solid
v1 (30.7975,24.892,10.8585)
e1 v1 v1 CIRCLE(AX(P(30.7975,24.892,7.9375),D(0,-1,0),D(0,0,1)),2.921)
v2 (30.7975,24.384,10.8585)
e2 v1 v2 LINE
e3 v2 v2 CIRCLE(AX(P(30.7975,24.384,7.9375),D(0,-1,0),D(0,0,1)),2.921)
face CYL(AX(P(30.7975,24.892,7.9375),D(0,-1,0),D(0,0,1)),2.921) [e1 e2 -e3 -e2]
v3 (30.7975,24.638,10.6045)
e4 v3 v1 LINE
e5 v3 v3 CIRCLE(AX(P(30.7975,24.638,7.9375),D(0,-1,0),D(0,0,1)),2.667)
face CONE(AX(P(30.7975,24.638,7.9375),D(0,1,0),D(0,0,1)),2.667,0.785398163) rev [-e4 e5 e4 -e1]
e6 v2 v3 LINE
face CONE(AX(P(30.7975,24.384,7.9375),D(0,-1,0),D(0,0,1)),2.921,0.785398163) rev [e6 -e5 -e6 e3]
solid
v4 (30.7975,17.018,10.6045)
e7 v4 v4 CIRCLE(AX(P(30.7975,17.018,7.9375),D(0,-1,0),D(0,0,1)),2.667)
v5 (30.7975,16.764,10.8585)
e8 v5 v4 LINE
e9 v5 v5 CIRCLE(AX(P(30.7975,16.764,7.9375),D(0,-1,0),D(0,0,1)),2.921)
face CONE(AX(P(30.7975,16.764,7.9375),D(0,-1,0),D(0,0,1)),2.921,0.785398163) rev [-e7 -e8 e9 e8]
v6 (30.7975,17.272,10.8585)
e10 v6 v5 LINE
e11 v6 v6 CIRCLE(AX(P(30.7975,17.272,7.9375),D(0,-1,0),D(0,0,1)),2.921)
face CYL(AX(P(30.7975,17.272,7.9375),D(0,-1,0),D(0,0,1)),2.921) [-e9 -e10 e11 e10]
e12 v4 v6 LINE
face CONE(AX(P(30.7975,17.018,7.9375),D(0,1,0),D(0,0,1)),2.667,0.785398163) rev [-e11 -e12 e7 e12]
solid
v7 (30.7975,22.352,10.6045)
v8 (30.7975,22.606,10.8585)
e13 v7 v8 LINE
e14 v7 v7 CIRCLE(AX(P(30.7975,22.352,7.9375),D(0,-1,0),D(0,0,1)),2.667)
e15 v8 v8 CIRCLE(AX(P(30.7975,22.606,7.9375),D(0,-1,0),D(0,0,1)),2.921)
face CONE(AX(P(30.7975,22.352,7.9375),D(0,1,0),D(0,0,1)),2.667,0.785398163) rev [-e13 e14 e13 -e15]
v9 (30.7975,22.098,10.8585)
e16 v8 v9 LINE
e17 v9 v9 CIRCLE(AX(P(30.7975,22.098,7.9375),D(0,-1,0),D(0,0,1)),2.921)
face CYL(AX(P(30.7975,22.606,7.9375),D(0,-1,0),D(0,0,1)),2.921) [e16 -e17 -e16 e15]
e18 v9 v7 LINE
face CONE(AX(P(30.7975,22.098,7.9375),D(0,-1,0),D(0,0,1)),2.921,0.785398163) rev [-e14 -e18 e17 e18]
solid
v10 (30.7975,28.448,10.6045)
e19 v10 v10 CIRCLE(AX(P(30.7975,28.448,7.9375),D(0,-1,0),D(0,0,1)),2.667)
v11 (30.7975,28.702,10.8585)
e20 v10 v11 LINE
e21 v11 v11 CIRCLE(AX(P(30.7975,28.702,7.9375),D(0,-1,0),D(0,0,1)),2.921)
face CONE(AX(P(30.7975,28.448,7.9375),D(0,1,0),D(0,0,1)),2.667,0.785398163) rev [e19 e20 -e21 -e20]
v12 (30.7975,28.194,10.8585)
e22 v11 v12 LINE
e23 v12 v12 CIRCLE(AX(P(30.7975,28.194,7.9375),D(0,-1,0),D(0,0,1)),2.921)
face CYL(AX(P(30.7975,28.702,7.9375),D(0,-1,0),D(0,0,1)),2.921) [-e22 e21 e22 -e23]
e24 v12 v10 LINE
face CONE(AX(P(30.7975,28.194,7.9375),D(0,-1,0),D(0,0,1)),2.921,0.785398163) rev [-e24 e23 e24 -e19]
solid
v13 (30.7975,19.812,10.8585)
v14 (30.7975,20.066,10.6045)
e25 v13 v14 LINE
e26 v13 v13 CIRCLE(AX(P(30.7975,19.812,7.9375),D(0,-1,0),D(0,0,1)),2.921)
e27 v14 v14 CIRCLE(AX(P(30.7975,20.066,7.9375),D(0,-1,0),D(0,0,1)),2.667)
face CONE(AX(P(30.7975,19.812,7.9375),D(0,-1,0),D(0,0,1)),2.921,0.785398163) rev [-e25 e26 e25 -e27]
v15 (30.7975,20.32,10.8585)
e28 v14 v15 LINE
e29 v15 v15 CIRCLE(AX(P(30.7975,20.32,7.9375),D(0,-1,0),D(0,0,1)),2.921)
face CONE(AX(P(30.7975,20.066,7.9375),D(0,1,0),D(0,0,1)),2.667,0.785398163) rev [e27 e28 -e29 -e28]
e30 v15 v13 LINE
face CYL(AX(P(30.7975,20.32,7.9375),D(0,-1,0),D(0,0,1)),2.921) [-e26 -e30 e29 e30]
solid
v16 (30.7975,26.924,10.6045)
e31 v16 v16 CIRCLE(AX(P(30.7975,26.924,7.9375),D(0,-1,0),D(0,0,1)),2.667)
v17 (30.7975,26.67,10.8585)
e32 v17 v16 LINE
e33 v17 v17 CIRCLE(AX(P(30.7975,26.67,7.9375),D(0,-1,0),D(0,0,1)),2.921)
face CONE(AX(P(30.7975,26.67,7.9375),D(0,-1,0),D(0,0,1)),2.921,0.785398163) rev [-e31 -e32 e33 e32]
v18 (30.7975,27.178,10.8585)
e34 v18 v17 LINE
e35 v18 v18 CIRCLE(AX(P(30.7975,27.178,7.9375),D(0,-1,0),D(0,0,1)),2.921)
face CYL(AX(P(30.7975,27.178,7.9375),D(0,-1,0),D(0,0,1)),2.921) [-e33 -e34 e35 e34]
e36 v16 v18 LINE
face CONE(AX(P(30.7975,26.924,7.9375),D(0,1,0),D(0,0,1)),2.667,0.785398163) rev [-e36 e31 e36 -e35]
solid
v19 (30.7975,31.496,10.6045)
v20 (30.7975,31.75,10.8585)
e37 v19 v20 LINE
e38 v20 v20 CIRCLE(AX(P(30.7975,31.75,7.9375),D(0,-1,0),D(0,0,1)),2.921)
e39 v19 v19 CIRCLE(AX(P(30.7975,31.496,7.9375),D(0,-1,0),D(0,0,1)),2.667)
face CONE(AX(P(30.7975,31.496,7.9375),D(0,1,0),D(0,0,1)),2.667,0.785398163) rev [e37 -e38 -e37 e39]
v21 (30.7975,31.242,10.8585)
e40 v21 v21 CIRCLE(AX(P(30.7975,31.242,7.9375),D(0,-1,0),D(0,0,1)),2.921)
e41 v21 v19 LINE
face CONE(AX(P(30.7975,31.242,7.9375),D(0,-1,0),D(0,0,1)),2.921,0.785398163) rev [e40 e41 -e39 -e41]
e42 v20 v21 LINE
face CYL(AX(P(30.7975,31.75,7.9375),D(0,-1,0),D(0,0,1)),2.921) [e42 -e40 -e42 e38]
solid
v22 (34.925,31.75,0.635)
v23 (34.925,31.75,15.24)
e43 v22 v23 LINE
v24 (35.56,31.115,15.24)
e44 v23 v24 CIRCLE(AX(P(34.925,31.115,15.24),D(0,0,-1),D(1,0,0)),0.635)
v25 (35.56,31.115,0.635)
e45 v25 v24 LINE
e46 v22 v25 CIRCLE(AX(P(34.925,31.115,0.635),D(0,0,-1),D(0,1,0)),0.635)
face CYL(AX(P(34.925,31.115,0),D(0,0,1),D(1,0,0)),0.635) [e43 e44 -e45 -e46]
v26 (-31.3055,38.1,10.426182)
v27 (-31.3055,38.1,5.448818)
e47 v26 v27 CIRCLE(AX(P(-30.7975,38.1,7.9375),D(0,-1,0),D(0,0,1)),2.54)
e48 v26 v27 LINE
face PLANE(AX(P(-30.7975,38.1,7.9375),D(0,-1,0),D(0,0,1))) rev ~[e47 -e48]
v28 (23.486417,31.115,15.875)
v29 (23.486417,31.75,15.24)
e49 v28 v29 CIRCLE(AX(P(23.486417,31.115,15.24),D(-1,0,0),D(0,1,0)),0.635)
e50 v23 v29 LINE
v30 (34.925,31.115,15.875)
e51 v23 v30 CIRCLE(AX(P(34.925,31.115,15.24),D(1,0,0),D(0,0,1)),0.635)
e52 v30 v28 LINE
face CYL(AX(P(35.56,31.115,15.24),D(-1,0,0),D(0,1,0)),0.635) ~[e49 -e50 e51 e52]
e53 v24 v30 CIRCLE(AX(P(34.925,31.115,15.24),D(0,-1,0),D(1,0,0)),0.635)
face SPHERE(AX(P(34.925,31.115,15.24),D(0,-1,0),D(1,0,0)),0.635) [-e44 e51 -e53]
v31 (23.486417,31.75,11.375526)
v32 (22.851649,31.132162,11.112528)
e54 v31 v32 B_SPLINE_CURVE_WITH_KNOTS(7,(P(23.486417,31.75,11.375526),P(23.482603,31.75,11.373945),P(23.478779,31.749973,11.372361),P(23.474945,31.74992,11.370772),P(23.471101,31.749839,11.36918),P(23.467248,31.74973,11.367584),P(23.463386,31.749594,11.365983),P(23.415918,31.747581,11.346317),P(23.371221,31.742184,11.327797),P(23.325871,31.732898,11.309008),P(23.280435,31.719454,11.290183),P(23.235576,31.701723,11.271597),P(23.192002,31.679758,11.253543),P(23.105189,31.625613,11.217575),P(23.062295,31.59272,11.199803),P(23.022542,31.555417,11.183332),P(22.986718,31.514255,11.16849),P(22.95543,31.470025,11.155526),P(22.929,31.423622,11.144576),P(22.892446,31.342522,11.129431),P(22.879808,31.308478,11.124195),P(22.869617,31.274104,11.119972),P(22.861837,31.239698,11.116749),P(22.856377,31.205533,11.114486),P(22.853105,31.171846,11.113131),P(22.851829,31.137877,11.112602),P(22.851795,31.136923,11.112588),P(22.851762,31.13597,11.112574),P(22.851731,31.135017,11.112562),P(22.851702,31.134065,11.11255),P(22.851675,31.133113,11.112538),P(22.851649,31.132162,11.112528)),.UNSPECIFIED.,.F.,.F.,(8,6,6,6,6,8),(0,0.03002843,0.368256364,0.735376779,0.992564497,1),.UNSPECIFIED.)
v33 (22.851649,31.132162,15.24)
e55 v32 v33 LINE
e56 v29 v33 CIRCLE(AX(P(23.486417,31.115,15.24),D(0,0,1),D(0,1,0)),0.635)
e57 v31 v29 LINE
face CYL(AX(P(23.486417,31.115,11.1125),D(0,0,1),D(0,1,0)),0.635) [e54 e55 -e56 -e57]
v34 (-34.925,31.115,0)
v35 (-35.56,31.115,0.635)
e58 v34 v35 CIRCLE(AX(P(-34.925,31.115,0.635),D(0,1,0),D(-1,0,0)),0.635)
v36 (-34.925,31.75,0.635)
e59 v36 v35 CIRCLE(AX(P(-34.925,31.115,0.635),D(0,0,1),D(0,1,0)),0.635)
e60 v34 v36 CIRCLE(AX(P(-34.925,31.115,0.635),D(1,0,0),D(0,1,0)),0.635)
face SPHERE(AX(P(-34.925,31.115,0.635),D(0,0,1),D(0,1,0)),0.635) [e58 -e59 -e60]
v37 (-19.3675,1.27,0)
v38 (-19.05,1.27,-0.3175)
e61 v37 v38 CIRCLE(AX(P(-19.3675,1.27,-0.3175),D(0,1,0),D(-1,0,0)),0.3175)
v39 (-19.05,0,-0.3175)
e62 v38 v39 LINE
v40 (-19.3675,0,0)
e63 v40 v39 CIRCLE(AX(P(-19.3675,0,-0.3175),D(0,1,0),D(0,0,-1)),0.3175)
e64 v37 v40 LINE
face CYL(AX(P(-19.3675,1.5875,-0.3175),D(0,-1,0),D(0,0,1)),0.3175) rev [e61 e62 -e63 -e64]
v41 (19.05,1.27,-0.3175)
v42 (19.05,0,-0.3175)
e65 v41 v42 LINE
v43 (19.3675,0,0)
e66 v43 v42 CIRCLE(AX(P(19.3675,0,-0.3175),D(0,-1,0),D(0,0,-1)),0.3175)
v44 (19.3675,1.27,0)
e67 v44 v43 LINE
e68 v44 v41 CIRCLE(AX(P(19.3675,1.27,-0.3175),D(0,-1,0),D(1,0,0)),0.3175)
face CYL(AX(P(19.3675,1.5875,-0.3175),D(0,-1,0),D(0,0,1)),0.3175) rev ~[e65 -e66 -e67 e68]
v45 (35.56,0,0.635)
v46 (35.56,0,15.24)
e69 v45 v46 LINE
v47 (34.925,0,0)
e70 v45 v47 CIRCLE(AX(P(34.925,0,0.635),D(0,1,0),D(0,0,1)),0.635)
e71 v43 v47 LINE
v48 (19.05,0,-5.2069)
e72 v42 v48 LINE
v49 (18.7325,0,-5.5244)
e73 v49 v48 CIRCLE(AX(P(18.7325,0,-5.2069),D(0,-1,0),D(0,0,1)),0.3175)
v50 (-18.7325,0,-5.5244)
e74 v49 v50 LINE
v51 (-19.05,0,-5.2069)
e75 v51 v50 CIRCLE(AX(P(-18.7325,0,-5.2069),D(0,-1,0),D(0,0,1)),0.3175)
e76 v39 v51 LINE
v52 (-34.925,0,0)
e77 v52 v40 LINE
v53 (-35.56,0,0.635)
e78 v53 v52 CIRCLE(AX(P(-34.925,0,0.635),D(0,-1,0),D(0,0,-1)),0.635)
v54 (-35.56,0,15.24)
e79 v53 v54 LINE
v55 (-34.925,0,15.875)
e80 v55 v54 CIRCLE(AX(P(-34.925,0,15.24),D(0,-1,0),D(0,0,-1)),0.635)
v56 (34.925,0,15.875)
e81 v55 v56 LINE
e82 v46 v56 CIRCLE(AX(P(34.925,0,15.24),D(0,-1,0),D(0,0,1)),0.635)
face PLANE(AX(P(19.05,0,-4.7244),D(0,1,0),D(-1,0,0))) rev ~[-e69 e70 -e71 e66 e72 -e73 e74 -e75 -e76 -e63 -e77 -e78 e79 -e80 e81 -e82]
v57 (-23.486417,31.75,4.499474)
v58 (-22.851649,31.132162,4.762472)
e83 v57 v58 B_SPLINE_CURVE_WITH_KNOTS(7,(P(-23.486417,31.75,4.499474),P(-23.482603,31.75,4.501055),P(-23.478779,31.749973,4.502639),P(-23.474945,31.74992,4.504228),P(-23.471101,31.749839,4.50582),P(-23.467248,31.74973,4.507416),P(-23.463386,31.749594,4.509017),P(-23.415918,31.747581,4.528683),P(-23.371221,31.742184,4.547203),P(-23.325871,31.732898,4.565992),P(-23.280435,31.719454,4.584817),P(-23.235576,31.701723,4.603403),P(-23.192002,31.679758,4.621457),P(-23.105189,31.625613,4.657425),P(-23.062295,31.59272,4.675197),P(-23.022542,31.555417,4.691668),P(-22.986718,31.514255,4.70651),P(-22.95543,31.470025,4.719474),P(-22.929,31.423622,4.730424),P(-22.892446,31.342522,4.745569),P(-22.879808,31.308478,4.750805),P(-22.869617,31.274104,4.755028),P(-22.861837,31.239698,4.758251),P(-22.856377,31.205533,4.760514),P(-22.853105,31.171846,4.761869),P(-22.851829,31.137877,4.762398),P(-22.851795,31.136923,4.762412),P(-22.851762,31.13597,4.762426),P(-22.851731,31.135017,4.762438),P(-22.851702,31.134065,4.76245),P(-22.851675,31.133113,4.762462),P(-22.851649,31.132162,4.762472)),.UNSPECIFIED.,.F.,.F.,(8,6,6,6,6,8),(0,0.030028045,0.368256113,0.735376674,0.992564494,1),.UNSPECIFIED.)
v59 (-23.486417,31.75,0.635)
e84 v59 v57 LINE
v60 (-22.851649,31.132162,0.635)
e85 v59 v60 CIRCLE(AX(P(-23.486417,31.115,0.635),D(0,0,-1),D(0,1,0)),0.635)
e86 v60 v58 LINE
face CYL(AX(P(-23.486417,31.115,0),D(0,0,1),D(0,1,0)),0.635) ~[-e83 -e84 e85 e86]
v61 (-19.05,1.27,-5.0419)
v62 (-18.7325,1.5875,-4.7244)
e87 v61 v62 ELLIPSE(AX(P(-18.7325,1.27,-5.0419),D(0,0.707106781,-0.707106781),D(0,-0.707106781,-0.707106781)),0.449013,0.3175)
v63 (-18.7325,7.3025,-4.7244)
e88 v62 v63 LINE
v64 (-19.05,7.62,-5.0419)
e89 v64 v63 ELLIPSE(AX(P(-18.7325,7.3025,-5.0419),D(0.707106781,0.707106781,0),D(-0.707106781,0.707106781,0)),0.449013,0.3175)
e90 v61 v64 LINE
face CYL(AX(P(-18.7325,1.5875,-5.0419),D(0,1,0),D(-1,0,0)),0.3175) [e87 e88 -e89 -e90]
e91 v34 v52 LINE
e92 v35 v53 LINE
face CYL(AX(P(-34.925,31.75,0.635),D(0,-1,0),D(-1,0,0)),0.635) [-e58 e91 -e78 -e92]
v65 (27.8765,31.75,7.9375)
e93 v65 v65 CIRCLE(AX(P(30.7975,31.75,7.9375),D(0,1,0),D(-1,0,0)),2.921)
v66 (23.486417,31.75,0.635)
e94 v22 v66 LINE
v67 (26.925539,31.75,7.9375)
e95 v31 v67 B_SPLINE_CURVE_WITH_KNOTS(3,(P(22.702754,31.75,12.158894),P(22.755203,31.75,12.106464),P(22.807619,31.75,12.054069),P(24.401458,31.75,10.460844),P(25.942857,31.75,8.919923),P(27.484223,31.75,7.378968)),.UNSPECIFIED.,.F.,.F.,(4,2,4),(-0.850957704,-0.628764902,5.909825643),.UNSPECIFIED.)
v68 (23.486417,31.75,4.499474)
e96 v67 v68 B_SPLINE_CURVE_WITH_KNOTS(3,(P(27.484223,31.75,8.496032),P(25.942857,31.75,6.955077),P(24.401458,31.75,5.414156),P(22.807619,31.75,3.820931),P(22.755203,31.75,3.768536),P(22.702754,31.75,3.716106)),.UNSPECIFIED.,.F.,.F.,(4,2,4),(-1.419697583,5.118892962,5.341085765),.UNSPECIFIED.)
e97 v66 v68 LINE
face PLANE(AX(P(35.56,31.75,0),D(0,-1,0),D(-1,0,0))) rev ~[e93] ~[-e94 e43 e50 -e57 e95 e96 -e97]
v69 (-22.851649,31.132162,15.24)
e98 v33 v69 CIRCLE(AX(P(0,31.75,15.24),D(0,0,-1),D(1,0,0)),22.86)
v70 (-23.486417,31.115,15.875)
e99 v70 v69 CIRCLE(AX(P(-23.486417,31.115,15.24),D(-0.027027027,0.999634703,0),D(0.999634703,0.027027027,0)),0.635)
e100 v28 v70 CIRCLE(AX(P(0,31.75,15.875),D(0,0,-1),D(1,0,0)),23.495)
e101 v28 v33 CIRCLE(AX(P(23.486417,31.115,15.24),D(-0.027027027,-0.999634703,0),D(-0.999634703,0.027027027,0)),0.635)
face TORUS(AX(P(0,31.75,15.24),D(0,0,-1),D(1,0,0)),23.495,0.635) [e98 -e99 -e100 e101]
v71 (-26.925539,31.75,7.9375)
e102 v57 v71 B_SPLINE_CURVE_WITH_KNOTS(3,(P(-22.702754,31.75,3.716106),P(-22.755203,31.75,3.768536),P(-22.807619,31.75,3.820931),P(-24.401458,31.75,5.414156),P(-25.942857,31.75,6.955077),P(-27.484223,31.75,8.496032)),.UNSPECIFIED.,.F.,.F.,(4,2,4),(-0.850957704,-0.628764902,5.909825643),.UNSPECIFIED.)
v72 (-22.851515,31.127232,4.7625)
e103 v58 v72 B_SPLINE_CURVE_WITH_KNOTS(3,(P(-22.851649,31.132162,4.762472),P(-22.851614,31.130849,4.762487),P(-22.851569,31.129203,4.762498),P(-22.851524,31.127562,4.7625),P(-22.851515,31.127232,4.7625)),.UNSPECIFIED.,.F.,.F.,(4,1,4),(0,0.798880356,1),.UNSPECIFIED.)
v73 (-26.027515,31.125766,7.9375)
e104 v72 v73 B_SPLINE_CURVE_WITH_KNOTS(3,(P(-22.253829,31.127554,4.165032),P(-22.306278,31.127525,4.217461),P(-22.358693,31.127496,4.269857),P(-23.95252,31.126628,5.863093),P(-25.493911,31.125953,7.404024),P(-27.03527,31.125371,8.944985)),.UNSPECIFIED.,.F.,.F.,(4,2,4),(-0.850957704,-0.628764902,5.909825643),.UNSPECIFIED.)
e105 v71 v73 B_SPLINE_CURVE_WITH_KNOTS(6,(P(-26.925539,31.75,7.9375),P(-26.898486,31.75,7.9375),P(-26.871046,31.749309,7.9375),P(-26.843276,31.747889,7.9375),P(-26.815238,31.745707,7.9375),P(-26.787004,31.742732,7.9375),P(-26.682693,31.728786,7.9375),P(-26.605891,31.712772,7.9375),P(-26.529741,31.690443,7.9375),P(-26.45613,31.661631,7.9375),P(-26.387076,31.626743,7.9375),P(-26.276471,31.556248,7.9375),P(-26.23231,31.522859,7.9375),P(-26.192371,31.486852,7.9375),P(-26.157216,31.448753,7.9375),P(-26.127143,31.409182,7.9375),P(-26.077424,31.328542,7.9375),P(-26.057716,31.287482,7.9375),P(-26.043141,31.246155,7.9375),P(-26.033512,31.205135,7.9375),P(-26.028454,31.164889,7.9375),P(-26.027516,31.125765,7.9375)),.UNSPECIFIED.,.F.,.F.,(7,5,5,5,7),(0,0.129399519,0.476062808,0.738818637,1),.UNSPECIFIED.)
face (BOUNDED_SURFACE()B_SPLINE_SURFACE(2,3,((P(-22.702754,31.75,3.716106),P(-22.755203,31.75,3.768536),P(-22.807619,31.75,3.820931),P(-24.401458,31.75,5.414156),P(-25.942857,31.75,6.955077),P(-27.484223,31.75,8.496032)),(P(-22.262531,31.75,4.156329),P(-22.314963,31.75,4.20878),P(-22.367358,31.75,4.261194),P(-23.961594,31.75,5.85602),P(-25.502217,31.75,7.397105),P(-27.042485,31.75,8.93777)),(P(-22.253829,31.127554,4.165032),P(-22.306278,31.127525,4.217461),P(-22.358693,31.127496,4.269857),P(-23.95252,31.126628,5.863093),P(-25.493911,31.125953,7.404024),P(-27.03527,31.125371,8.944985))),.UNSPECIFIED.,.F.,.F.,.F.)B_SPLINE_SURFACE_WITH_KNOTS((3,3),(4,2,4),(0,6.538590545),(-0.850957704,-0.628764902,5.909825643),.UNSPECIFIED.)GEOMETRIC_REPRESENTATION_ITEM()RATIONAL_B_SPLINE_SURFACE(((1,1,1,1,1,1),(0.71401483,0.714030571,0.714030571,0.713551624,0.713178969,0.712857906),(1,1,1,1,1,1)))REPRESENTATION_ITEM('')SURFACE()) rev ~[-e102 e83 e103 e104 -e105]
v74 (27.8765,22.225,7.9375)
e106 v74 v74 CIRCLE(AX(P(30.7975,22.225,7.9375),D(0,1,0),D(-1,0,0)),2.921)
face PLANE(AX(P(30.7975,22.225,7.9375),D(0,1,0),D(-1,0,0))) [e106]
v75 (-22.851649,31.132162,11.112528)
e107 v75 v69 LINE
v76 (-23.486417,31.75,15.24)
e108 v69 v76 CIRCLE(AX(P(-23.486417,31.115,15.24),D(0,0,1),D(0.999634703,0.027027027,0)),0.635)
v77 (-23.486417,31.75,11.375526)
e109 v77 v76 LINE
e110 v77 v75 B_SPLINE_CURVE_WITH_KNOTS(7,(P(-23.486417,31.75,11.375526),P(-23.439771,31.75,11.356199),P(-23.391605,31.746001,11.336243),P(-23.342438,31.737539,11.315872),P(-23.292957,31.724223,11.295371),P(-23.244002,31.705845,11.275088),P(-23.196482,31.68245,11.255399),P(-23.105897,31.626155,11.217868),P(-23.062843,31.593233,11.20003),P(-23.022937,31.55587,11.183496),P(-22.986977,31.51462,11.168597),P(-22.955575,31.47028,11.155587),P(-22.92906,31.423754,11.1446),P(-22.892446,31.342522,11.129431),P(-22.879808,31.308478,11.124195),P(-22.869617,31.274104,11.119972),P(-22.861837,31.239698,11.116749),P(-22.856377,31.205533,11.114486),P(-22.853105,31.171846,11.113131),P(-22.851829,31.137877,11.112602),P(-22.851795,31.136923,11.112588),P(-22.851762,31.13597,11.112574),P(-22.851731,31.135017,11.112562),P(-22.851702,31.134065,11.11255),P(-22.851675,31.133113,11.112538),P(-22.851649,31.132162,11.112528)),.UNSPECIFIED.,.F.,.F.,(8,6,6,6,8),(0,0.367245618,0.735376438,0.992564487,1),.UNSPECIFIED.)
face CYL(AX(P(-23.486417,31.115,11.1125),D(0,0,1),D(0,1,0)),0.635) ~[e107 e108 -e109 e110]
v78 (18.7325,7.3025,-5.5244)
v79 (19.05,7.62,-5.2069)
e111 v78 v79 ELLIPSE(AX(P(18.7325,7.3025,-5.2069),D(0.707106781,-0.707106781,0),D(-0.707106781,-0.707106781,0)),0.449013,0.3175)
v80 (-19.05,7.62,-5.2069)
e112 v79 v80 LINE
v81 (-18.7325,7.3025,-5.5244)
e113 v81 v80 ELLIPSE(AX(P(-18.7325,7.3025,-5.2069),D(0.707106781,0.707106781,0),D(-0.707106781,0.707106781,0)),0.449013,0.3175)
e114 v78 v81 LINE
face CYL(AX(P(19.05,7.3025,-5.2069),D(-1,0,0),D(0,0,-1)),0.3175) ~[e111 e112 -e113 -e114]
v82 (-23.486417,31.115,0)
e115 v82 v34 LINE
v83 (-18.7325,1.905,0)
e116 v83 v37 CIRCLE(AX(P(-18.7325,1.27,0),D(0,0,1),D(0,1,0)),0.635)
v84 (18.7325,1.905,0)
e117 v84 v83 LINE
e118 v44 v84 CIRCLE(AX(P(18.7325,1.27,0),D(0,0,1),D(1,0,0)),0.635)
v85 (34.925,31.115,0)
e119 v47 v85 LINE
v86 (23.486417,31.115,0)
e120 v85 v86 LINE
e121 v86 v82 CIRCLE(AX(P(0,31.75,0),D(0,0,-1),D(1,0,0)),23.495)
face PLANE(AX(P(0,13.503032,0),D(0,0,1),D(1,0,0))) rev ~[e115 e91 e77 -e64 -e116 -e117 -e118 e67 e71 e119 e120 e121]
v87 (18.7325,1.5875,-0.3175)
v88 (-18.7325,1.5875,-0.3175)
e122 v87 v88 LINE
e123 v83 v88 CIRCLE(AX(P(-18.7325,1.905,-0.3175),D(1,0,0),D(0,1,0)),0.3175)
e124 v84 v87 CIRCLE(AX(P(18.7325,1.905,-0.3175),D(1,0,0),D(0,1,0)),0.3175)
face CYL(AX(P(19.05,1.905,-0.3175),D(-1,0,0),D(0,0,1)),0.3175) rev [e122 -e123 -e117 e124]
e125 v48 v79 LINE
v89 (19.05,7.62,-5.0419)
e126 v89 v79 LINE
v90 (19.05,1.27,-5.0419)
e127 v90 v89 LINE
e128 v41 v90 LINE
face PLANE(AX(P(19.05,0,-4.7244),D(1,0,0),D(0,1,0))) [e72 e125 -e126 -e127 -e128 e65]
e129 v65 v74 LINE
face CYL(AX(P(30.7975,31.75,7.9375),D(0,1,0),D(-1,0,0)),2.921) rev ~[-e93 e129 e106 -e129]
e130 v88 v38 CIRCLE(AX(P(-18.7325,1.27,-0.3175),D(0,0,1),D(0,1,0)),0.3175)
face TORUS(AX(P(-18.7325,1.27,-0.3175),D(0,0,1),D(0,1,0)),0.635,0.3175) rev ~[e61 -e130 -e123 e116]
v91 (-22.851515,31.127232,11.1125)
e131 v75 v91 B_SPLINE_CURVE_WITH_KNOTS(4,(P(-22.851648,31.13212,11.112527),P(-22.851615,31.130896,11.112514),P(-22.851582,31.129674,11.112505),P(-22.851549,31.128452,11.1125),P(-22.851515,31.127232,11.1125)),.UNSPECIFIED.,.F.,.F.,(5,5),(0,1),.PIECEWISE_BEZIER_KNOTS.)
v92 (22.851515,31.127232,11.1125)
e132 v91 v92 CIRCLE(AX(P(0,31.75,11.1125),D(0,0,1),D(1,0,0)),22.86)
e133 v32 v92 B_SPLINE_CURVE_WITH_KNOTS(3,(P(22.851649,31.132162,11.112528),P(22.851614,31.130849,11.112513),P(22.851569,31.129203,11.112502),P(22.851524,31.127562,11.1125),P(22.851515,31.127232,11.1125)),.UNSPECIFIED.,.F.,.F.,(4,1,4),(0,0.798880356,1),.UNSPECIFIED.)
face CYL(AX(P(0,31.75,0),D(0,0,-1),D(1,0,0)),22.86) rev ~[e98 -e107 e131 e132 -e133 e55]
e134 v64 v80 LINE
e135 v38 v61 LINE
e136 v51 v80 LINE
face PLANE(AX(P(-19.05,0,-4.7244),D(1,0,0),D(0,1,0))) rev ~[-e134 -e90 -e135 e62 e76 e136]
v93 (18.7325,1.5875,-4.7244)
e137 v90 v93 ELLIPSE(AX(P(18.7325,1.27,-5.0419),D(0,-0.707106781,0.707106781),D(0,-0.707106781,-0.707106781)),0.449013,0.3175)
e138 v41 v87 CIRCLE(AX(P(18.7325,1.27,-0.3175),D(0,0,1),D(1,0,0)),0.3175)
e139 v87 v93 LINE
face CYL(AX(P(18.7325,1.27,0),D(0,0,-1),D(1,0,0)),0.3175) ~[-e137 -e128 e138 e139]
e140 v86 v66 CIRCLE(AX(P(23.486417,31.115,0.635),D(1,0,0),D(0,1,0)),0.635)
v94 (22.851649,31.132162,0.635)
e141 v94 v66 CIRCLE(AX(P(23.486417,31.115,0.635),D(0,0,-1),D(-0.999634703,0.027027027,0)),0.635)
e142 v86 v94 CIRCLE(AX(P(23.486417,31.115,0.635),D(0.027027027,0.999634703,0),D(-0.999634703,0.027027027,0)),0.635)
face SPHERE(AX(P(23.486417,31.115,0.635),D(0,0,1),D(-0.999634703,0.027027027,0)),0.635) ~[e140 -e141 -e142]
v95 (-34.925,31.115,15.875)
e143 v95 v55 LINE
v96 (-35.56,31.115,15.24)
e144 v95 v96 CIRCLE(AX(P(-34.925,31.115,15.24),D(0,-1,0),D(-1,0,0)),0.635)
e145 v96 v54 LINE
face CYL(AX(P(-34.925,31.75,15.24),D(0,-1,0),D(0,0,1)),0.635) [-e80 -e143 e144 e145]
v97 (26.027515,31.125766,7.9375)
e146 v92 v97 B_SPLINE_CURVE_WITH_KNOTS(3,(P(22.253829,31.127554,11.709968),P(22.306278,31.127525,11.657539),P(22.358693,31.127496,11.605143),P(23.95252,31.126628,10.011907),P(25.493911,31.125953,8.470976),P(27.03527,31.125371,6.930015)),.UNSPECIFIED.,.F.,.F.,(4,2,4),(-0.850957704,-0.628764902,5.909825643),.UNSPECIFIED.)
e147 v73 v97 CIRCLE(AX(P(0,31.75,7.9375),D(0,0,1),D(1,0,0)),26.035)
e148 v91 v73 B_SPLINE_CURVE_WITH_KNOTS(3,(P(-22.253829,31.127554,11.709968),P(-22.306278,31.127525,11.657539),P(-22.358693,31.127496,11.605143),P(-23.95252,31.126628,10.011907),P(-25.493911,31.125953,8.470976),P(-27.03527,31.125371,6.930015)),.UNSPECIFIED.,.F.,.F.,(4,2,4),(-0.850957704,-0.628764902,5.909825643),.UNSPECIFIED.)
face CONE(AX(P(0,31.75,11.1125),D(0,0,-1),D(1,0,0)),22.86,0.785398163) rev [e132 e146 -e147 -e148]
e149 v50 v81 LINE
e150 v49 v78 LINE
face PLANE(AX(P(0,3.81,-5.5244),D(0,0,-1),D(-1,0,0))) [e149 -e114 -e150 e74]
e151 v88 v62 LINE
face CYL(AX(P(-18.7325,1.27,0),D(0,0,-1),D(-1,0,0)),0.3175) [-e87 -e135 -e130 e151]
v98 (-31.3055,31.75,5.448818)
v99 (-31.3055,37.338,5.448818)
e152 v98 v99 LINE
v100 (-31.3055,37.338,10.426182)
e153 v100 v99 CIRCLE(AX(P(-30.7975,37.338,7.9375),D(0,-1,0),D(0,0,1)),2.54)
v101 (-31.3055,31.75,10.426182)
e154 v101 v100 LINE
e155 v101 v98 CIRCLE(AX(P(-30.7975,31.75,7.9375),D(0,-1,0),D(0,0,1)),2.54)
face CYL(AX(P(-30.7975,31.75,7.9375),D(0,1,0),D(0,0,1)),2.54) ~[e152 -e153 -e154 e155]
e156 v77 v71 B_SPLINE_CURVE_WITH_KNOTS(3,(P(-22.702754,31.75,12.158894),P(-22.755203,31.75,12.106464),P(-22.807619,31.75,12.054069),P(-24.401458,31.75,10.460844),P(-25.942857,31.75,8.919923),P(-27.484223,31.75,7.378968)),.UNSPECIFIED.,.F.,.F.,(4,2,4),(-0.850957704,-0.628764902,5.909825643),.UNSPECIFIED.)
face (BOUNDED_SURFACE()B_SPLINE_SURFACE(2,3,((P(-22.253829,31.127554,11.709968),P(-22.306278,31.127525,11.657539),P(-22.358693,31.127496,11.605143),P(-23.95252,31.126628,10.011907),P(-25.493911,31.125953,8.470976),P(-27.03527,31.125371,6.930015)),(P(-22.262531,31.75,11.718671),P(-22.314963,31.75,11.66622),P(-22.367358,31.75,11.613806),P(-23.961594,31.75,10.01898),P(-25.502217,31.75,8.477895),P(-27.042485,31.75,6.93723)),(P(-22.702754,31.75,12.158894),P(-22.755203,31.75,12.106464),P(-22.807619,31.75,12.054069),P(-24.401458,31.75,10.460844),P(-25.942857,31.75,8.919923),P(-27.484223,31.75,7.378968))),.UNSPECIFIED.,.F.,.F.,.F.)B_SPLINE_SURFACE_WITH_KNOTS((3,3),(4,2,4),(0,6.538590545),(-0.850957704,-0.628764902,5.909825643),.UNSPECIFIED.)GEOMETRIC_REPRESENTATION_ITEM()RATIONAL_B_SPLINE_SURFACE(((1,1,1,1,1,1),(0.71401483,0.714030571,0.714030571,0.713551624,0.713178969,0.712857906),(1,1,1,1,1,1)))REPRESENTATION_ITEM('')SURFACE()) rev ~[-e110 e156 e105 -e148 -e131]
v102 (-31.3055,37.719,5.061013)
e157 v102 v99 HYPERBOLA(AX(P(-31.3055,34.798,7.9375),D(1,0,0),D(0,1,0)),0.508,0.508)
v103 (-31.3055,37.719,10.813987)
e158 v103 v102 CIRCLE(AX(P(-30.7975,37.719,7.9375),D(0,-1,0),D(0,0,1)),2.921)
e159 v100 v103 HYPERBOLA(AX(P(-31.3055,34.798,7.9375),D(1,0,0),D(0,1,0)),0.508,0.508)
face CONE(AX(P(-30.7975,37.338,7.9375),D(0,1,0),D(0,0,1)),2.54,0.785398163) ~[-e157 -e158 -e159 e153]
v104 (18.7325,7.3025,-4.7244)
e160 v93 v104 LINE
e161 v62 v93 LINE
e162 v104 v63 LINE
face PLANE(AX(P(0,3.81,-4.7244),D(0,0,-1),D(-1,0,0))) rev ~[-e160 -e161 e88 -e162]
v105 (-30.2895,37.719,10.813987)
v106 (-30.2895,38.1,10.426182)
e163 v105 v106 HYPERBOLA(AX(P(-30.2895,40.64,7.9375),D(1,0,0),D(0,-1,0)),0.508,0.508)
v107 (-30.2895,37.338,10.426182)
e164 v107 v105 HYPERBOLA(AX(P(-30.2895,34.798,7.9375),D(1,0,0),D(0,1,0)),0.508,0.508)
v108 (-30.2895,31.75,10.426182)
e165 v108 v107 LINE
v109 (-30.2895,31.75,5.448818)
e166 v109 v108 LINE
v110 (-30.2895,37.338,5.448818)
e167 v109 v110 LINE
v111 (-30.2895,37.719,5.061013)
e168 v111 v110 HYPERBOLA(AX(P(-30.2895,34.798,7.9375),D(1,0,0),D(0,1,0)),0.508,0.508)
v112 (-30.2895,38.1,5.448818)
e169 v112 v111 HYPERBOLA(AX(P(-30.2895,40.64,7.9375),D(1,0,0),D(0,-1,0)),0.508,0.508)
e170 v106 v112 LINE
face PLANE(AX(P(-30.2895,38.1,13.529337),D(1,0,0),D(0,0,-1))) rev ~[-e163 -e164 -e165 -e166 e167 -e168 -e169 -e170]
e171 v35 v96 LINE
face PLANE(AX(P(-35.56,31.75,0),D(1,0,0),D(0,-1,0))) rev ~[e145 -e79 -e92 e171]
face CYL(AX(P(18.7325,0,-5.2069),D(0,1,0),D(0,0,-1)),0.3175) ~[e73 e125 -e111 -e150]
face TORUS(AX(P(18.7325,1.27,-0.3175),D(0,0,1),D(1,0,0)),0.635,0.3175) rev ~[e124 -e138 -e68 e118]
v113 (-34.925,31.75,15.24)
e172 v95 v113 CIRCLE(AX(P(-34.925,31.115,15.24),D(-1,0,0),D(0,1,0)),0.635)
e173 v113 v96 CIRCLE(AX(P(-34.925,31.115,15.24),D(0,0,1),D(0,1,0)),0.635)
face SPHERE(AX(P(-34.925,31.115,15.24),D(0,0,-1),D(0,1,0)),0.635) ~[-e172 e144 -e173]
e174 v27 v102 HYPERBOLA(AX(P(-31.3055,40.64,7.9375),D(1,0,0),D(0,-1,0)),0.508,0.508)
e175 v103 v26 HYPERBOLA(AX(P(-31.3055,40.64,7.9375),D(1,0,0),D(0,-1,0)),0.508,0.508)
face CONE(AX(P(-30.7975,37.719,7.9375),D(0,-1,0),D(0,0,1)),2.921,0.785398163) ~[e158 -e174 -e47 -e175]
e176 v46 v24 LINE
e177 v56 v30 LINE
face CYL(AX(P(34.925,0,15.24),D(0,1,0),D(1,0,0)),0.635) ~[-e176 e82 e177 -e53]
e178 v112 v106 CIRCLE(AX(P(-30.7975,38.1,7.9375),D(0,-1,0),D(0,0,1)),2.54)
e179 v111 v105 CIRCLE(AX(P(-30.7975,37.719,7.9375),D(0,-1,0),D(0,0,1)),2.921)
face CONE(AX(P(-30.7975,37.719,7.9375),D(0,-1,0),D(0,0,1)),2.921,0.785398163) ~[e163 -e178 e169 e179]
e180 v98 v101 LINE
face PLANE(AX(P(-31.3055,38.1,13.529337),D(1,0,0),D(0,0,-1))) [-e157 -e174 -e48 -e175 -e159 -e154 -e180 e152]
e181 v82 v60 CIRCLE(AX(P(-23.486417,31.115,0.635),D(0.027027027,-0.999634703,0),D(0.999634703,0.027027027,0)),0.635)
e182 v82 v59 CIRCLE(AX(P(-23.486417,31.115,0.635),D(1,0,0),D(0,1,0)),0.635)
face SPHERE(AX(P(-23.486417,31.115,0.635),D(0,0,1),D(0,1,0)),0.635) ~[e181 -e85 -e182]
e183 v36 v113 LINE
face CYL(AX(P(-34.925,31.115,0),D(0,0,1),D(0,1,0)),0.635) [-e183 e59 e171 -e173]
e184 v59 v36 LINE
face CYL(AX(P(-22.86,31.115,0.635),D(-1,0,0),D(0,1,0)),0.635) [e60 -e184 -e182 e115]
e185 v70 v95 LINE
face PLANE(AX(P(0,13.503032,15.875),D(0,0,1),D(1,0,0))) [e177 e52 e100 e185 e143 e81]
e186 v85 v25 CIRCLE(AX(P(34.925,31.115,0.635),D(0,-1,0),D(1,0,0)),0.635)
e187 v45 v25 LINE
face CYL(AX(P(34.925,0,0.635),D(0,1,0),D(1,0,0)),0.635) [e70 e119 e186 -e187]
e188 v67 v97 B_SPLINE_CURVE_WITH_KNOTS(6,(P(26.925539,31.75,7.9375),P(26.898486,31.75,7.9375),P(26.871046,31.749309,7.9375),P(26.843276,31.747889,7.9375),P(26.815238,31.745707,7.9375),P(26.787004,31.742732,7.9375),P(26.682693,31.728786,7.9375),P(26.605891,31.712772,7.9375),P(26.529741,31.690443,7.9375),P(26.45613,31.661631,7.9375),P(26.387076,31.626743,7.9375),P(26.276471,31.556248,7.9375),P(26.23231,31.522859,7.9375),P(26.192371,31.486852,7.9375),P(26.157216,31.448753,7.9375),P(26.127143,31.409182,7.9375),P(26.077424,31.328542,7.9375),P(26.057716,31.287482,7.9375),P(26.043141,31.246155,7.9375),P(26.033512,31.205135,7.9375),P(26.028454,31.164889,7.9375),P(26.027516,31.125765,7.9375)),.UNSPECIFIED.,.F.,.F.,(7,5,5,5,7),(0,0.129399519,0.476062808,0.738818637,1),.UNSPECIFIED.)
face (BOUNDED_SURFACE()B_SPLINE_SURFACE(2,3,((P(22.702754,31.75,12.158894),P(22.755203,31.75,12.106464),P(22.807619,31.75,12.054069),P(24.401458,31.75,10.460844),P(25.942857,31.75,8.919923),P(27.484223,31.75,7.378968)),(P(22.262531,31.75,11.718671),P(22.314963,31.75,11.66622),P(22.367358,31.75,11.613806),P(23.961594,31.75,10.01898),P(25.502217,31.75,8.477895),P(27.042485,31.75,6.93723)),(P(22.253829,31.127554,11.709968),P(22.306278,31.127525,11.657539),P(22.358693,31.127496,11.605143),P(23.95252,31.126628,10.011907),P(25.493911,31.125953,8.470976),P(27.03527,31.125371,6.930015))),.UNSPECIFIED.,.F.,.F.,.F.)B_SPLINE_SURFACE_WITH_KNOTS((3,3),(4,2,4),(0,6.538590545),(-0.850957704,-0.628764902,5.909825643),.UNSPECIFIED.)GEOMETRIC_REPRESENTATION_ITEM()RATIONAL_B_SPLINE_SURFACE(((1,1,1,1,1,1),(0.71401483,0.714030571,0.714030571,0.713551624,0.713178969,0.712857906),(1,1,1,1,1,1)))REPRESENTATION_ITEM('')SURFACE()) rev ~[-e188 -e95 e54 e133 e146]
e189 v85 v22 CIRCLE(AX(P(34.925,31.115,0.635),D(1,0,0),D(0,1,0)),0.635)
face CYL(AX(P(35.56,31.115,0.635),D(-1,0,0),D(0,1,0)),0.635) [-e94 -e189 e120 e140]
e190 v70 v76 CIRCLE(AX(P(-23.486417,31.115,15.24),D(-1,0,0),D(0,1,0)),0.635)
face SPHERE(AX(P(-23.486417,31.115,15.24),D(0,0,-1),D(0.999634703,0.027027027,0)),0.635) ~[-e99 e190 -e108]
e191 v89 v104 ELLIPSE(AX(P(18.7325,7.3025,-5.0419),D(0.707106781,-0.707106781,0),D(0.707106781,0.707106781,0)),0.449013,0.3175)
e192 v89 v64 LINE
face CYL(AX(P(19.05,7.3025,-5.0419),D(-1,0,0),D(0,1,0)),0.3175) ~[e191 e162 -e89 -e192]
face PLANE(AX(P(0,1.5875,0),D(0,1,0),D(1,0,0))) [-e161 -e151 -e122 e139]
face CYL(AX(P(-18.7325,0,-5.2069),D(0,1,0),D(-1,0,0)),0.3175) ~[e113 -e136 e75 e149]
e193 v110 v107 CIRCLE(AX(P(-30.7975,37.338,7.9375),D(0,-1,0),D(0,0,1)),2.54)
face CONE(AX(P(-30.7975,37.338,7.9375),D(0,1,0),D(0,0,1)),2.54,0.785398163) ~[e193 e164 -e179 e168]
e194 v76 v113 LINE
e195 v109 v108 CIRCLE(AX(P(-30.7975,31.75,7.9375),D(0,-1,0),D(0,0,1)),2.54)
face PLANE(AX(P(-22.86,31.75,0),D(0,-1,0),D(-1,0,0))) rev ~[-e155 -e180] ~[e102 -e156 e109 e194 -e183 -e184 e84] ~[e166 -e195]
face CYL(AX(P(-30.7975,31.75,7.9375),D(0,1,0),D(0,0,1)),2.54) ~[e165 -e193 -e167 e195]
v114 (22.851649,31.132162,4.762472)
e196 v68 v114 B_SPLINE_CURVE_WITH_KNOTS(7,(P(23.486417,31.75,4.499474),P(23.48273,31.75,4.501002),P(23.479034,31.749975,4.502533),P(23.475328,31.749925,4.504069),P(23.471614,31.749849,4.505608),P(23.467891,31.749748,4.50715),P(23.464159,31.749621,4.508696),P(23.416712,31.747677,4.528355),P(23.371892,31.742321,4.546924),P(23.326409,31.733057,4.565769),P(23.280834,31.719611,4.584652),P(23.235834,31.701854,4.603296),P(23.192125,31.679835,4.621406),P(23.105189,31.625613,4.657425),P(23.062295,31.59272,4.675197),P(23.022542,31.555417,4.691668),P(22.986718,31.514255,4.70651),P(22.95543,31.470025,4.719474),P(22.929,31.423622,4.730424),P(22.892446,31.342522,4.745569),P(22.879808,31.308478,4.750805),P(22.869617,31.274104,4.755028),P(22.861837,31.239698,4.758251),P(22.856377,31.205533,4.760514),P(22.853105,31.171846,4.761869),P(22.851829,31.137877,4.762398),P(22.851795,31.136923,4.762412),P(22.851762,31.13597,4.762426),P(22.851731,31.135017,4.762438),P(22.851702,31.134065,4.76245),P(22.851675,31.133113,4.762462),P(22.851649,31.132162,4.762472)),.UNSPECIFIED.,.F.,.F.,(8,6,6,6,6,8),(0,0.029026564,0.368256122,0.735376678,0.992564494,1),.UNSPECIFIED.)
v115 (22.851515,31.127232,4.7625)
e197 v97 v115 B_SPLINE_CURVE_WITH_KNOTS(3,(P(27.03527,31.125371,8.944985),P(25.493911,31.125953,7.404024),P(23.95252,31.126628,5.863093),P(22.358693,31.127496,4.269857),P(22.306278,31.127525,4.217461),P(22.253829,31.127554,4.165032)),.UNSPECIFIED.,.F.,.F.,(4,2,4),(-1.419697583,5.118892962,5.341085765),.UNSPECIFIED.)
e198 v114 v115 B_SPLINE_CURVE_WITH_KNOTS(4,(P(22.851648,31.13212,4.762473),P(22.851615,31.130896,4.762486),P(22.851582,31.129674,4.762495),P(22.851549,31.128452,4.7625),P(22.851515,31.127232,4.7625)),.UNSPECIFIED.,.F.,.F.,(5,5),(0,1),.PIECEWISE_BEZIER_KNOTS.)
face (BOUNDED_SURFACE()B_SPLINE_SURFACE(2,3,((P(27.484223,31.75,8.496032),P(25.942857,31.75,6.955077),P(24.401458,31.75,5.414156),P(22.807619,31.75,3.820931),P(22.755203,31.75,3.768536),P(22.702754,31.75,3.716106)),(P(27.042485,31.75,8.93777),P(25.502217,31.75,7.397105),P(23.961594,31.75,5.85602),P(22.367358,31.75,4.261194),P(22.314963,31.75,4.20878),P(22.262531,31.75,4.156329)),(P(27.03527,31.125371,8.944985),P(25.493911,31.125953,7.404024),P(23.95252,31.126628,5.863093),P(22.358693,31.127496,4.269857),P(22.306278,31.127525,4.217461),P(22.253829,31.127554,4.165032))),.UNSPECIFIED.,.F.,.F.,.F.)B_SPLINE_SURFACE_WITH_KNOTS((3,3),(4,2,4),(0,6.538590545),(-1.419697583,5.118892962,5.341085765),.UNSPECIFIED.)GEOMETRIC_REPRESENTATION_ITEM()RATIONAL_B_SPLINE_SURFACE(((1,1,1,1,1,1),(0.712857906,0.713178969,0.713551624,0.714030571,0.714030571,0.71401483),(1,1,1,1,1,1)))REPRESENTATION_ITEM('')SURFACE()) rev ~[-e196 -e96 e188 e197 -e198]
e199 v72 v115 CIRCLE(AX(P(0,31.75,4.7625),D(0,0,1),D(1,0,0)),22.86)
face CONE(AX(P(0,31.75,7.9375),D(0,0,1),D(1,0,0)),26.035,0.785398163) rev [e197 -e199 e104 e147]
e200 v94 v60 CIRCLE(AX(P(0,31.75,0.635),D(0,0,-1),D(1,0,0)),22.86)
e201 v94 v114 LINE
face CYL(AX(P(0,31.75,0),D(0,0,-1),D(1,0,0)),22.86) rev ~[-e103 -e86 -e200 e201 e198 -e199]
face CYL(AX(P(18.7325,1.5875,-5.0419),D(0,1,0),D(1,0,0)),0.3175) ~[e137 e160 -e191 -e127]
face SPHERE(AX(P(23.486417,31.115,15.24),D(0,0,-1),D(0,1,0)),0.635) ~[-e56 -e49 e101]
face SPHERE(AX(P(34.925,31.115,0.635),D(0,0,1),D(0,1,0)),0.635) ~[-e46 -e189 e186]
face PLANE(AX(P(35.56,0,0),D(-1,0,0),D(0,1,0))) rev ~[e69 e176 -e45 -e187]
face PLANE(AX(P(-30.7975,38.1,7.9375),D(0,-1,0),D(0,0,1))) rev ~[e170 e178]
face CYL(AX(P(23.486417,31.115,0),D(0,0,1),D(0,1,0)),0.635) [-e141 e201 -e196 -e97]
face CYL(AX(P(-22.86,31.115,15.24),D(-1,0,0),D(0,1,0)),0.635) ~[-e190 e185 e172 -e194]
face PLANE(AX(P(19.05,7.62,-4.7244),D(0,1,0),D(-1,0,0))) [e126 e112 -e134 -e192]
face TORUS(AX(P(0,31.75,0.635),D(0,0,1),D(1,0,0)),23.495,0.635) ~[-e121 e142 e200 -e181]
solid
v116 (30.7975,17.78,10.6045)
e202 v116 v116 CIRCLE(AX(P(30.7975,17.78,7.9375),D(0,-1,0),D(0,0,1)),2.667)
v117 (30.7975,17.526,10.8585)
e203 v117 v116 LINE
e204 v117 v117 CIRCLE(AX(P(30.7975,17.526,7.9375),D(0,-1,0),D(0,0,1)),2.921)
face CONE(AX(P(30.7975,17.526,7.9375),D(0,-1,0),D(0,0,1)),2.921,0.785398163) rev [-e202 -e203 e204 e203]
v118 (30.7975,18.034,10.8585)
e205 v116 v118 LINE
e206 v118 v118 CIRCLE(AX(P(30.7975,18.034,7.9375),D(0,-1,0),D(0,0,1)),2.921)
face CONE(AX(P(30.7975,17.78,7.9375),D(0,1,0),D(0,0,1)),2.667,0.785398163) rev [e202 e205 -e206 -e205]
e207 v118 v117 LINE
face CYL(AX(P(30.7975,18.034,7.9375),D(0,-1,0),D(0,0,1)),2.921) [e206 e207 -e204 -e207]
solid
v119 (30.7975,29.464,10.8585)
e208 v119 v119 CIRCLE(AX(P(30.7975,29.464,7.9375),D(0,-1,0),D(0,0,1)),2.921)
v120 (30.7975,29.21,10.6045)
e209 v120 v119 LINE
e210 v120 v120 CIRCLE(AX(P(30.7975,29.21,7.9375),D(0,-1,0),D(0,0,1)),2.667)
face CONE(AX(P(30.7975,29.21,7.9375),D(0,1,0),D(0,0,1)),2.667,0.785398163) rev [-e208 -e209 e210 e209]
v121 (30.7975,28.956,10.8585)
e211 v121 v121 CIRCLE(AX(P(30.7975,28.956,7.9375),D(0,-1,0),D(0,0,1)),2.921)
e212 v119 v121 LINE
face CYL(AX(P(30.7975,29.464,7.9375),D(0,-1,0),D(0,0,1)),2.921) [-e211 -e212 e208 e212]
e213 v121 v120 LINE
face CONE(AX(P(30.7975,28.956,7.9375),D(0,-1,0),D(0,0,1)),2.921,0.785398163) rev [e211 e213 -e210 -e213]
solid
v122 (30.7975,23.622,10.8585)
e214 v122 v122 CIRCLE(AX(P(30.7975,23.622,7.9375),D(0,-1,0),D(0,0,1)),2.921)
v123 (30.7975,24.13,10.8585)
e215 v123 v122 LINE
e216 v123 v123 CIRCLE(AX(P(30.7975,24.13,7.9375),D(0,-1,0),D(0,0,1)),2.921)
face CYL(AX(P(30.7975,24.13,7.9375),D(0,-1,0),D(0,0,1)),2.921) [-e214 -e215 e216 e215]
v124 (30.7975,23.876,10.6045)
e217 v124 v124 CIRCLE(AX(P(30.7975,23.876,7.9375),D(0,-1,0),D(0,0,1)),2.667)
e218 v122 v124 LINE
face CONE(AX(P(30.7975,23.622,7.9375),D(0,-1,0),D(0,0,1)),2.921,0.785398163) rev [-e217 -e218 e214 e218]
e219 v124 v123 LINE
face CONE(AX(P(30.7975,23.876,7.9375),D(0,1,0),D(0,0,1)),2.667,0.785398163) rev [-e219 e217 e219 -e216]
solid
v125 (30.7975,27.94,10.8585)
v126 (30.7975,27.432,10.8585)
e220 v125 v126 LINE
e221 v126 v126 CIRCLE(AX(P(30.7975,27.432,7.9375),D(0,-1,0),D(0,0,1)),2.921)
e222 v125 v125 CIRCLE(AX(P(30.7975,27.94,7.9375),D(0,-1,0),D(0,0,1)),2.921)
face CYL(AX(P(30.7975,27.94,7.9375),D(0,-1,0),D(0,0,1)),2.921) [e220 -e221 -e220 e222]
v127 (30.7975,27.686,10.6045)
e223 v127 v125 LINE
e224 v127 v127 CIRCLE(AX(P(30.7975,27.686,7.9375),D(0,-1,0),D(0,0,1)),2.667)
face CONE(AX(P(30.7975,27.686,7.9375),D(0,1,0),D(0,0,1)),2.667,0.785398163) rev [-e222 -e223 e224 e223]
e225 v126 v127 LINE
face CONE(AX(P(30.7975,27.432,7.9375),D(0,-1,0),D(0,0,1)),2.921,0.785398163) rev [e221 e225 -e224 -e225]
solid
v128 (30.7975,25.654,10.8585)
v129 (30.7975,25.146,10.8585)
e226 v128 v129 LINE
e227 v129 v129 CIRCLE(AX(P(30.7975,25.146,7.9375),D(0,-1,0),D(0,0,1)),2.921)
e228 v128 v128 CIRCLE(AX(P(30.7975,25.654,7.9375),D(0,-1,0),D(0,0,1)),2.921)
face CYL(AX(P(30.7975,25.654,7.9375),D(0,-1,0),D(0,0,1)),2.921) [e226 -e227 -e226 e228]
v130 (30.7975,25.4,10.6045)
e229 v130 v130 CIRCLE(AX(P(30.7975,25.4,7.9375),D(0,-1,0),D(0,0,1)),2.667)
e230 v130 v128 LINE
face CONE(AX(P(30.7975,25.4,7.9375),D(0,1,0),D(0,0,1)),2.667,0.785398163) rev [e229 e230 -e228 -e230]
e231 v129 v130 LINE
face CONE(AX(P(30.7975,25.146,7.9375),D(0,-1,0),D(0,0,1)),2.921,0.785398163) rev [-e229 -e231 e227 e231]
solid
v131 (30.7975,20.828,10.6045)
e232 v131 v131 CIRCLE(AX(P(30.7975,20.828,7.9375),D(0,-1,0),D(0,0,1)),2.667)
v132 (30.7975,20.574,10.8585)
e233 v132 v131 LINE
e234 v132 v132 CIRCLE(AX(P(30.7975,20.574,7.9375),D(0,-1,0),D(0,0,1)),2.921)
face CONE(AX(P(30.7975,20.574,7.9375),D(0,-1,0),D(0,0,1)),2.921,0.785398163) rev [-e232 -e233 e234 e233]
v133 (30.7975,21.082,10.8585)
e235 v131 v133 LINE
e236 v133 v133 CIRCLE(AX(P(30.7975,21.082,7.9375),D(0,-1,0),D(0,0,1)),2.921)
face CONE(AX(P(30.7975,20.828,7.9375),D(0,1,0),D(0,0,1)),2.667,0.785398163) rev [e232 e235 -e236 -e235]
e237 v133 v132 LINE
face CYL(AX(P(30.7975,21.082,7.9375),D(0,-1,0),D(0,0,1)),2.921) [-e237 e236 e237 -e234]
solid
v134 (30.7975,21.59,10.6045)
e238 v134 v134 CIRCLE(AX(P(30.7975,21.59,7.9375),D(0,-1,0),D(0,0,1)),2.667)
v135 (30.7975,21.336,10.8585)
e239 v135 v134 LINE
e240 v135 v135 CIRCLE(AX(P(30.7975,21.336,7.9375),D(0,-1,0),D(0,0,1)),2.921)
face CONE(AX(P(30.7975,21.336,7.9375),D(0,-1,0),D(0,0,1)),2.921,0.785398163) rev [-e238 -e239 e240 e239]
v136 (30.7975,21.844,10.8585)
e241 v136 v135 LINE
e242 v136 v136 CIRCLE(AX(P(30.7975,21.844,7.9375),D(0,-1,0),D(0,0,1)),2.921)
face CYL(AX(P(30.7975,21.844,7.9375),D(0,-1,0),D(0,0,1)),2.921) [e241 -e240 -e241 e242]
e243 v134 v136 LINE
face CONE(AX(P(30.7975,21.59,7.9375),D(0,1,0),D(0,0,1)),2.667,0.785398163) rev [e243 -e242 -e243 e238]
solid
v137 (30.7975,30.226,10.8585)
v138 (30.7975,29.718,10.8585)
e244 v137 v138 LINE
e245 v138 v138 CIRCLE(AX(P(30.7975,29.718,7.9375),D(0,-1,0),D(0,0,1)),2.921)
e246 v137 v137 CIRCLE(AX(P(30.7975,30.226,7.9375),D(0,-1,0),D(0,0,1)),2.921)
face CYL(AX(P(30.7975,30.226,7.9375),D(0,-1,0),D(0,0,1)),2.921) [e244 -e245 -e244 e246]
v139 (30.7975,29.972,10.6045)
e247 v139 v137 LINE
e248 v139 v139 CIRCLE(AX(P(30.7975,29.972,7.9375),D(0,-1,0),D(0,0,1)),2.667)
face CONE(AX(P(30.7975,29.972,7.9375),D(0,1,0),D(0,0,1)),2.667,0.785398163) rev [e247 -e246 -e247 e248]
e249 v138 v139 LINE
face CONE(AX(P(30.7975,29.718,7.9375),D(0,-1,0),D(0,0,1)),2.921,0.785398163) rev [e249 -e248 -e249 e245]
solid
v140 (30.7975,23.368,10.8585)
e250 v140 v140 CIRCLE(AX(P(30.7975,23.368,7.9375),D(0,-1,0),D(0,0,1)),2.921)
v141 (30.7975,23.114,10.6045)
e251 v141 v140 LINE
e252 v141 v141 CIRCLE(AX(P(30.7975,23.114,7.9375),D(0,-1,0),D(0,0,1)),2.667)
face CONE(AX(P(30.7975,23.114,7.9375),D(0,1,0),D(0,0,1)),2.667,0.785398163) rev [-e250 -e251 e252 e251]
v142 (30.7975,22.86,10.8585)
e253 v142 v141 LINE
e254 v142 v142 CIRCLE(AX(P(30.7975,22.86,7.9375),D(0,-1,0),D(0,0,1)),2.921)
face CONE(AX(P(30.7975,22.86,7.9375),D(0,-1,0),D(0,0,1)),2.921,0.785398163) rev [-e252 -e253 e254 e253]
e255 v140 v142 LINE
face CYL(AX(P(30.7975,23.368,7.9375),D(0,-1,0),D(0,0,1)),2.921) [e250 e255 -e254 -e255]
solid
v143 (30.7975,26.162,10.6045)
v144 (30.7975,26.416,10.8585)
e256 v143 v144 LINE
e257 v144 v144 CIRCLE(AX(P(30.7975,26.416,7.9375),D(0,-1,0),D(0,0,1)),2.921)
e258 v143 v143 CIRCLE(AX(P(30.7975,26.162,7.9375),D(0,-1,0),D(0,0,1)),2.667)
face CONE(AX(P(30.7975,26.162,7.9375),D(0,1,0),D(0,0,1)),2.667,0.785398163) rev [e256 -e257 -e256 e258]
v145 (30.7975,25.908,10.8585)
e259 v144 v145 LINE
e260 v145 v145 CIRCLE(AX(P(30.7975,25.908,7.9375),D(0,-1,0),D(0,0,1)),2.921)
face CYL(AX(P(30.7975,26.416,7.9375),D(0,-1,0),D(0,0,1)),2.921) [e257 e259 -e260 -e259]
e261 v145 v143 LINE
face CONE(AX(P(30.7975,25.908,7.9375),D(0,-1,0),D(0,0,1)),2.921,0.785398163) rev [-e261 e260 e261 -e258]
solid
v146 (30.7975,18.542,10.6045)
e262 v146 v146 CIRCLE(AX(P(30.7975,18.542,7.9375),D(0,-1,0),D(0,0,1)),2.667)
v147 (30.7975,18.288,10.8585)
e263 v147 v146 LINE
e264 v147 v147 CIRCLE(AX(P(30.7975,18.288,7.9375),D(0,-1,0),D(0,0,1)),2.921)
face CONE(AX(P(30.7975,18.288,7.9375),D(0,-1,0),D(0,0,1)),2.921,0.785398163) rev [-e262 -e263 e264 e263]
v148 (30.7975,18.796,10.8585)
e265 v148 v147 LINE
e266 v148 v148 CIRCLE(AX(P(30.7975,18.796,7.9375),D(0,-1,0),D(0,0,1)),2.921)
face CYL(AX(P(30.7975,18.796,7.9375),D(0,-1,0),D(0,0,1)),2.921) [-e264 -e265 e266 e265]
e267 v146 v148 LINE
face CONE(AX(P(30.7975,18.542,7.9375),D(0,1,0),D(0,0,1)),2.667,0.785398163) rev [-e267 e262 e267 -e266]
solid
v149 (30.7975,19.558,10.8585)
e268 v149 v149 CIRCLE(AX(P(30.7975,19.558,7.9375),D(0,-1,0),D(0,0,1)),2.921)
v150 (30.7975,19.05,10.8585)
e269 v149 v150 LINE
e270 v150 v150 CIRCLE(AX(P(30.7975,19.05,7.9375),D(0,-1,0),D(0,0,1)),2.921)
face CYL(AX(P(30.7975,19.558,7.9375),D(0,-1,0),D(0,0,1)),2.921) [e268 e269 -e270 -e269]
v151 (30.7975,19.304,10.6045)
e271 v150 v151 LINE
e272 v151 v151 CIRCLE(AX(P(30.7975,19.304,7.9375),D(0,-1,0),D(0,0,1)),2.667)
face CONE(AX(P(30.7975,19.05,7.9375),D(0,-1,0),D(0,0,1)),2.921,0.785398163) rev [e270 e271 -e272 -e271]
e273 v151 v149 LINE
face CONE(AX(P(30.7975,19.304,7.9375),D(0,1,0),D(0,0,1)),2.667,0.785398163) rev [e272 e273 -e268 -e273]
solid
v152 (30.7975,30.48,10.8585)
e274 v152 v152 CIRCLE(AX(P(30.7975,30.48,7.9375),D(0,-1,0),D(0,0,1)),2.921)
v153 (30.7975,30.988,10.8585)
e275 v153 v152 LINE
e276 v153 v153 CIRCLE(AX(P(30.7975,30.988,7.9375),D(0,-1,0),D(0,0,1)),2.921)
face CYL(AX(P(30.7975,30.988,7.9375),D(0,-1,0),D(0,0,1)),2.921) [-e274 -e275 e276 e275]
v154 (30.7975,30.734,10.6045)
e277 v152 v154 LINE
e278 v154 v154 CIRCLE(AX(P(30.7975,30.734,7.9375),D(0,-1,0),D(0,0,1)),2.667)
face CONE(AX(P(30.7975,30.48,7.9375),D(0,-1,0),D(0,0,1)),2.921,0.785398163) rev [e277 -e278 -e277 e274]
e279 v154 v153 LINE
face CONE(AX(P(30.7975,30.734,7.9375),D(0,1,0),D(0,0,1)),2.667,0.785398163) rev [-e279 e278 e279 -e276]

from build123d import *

# Parameters (mm, degrees)
BOSS_EXTRUDE1_DEPTH = 15.875
SKETCH6_R           = 2.921
CUT_EXTRUDE2_DEPTH  = 9.525
CUT_EXTRUDE3_REACH  = 56.481
SKETCH16_W          = 1.016
SKETCH16_H          = 11.1836739
SKETCH17_W          = 38.1
SKETCH17_H          = 9.4488
BOSS_EXTRUDE2_DEPTH = 1.5875
SKETCH18_W          = 38.1
SKETCH18_H          = 7.62
BOSS_EXTRUDE3_DEPTH = 0.8
FILLET1_R           = 0.635
FILLET2_R           = 0.3175


with BuildPart() as part:
    # Sketch1 → Boss-Extrude1 (new body)
    with BuildSketch(Plane.XY):
        with BuildLine():
            Line((-35.56, 0), (35.56, 0))
            Line((35.56, 0), (35.56, 31.75))
            Line((35.56, 31.75), (22.86, 31.75))
            ThreePointArc((22.86, 31.75), (0, 8.89), (-22.86, 31.75))
            Line((-22.86, 31.75), (-35.56, 31.75))
            Line((-35.56, 31.75), (-35.56, 0))
        make_face()
    extrude(amount=BOSS_EXTRUDE1_DEPTH)

    # Sketch2 → Cut-Revolve1 (revolve, cut)
    with BuildSketch(Plane(origin=(0, 31.75, 0), x_dir=(1, 0, 0), z_dir=(0, 1, 0))):
        Polygon((22.86, -11.1125), (26.035, -7.9375), (22.86, -4.7625), align=None)
    revolve(axis=Axis((0, 31.75, 0), (0, 0, 1)), mode=Mode.SUBTRACT)

    # Sketch6 → Cut-Extrude2 (cut)
    with BuildSketch(Plane(origin=(0, 31.75, 0), x_dir=(1, 0, 0), z_dir=(0, 1, 0))):
        with Locations(Location((30.7975, -7.9375, 0), (0, 0, 180))):
            Circle(SKETCH6_R)
    extrude(amount=-CUT_EXTRUDE2_DEPTH, mode=Mode.SUBTRACT)

    # Sketch15 → Revolve2 (revolve)
    with BuildSketch(Plane.XY.offset(7.9375), mode=Mode.PRIVATE) as revolve2_sk:
        Polygon((-33.3375, 31.75), (-33.3375, 37.338), (-33.7185, 37.719), (-33.3375, 38.1), (-30.7975, 38.1), (-30.7975, 31.75), align=None)
    revolve(revolve2_sk.sketch.rotate(Axis((-30.7975, 38.1, 7.9375), (0, -1, 0)), 270), axis=Axis((-30.7975, 38.1, 7.9375), (0, -1, 0)))

    # Cut-Extrude3: up to this face of the body (flat: up to its plane)
    cut_extrude3_end = Plane(part.part.faces().sort_by_distance((-29.21, 31.75, 0.203299195))[0])
    # Sketch16 → Cut-Extrude3 (cut, up to the picked face)
    with BuildSketch(Plane(origin=(0, 38.1, 0), x_dir=(1, 0, 0), z_dir=(0, 1, 0)), mode=Mode.PRIVATE) as cut_extrude3_sk1:
        with Locations((-30.7975, -7.9375)):
            Rectangle(SKETCH16_W, SKETCH16_H)
    cut_extrude3_tool1 = split(extrude(cut_extrude3_sk1.sketch, amount=-CUT_EXTRUDE3_REACH, mode=Mode.PRIVATE), bisect_by=cut_extrude3_end, keep=Keep.BOTH, mode=Mode.PRIVATE)
    add(cut_extrude3_tool1.solids().sort_by(Axis((-30.7975, 38.1, 7.9375), (0, -1, 0)))[0], mode=Mode.SUBTRACT)

    # Sketch17 → Boss-Extrude2 (add)
    with BuildSketch(Plane(origin=(0, 0, 0), x_dir=(1, 0, 0), z_dir=(0, 1, 0))):
        Rectangle(SKETCH17_W, SKETCH17_H)
    extrude(amount=BOSS_EXTRUDE2_DEPTH)

    # Sketch18 → Boss-Extrude3 (add)
    with BuildSketch(Plane(origin=(0, 0, -4.7244), x_dir=(-1, 0, 0), z_dir=(0, 0, -1))):
        with Locations((0, 3.81)):
            Rectangle(SKETCH18_W, SKETCH18_H)
    extrude(amount=BOSS_EXTRUDE3_DEPTH)

    # Fillet1
    fillet1_edges = [part.edges().sort_by_distance(p)[0] for p in [
        (35.56, 15.875, 15.875),
        (-35.56, 31.75, 7.9375),
        (-22.86, 31.75, 13.49375),
        (22.86, 31.75, 13.49375),
        (35.56, 31.75, 7.9375),
        (29.21, 31.75, 15.875),
        (0, 8.89, 15.875),
        (-29.21, 31.75, 15.875),
        (-22.86, 31.75, 2.38125),
        (-24.4475, 31.75, 6.35),
        (-24.4475, 31.75, 9.525),
        (22.86, 31.75, 2.38125),
        (24.4475, 31.75, 9.525),
        (24.4475, 31.75, 6.35),
        (-35.56, 15.875, 15.875),
        (-29.21, 31.75, 0),
        (0, 8.89, 0),
        (29.21, 31.75, 0),
        (35.56, 15.875, 0),
        (-35.56, 15.875, 0),
    ]]
    fillet(fillet1_edges, radius=FILLET1_R)

    # Fillet2
    fillet2_edges = [part.edges().sort_by_distance(p)[0] for p in [
        (19.05, 0.79375, 0),
        (0, 1.5875, 0),
        (-19.05, 0.79375, 0),
        (-19.05, 1.5875, -2.3622),
        (19.05, 1.5875, -2.3622),
        (19.05, 4.60375, -4.7244),
        (0, 7.62, -4.7244),
        (-19.05, 4.60375, -4.7244),
        (0, 7.62, -5.5244),
        (19.05, 3.81, -5.5244),
        (-19.05, 3.81, -5.5244),
    ]]
    fillet(fillet2_edges, radius=FILLET2_R)


with BuildPart() as body_2:
    # Sketch12 → Revolve1 (revolve)
    with BuildSketch(Plane.XY.offset(7.9375), mode=Mode.PRIVATE) as revolve1_sk:
        Polygon((27.8765, 30.48), (28.1305, 30.734), (27.8765, 30.988), align=None)
        Polygon((27.8765, 31.242), (28.1305, 31.496), (27.8765, 31.75), align=None)
        Polygon((27.8765, 29.718), (28.1305, 29.972), (27.8765, 30.226), align=None)
        Polygon((27.8765, 28.956), (28.1305, 29.21), (27.8765, 29.464), align=None)
        Polygon((27.8765, 28.194), (28.1305, 28.448), (27.8765, 28.702), align=None)
        Polygon((27.8765, 27.432), (28.1305, 27.686), (27.8765, 27.94), align=None)
        Polygon((27.8765, 26.67), (28.1305, 26.924), (27.8765, 27.178), align=None)
        Polygon((27.8765, 25.908), (28.1305, 26.162), (27.8765, 26.416), align=None)
        Polygon((27.8765, 25.146), (28.1305, 25.4), (27.8765, 25.654), align=None)
        Polygon((27.8765, 24.384), (28.1305, 24.638), (27.8765, 24.892), align=None)
        Polygon((27.8765, 23.622), (28.1305, 23.876), (27.8765, 24.13), align=None)
        Polygon((27.8765, 22.86), (28.1305, 23.114), (27.8765, 23.368), align=None)
        Polygon((27.8765, 22.098), (28.1305, 22.352), (27.8765, 22.606), align=None)
        Polygon((27.8765, 21.336), (28.1305, 21.59), (27.8765, 21.844), align=None)
        Polygon((27.8765, 20.574), (28.1305, 20.828), (27.8765, 21.082), align=None)
        Polygon((27.8765, 19.812), (28.1305, 20.066), (27.8765, 20.32), align=None)
        Polygon((27.8765, 19.05), (28.1305, 19.304), (27.8765, 19.558), align=None)
        Polygon((27.8765, 18.288), (28.1305, 18.542), (27.8765, 18.796), align=None)
        Polygon((27.8765, 17.526), (28.1305, 17.78), (27.8765, 18.034), align=None)
        Polygon((27.8765, 16.764), (28.1305, 17.018), (27.8765, 17.272), align=None)
    revolve(revolve1_sk.sketch.rotate(Axis((30.7975, 31.75, 7.9375), (0, -1, 0)), 270), axis=Axis((30.7975, 31.75, 7.9375), (0, -1, 0)))


solid = Compound([part.part, body_2.part])
